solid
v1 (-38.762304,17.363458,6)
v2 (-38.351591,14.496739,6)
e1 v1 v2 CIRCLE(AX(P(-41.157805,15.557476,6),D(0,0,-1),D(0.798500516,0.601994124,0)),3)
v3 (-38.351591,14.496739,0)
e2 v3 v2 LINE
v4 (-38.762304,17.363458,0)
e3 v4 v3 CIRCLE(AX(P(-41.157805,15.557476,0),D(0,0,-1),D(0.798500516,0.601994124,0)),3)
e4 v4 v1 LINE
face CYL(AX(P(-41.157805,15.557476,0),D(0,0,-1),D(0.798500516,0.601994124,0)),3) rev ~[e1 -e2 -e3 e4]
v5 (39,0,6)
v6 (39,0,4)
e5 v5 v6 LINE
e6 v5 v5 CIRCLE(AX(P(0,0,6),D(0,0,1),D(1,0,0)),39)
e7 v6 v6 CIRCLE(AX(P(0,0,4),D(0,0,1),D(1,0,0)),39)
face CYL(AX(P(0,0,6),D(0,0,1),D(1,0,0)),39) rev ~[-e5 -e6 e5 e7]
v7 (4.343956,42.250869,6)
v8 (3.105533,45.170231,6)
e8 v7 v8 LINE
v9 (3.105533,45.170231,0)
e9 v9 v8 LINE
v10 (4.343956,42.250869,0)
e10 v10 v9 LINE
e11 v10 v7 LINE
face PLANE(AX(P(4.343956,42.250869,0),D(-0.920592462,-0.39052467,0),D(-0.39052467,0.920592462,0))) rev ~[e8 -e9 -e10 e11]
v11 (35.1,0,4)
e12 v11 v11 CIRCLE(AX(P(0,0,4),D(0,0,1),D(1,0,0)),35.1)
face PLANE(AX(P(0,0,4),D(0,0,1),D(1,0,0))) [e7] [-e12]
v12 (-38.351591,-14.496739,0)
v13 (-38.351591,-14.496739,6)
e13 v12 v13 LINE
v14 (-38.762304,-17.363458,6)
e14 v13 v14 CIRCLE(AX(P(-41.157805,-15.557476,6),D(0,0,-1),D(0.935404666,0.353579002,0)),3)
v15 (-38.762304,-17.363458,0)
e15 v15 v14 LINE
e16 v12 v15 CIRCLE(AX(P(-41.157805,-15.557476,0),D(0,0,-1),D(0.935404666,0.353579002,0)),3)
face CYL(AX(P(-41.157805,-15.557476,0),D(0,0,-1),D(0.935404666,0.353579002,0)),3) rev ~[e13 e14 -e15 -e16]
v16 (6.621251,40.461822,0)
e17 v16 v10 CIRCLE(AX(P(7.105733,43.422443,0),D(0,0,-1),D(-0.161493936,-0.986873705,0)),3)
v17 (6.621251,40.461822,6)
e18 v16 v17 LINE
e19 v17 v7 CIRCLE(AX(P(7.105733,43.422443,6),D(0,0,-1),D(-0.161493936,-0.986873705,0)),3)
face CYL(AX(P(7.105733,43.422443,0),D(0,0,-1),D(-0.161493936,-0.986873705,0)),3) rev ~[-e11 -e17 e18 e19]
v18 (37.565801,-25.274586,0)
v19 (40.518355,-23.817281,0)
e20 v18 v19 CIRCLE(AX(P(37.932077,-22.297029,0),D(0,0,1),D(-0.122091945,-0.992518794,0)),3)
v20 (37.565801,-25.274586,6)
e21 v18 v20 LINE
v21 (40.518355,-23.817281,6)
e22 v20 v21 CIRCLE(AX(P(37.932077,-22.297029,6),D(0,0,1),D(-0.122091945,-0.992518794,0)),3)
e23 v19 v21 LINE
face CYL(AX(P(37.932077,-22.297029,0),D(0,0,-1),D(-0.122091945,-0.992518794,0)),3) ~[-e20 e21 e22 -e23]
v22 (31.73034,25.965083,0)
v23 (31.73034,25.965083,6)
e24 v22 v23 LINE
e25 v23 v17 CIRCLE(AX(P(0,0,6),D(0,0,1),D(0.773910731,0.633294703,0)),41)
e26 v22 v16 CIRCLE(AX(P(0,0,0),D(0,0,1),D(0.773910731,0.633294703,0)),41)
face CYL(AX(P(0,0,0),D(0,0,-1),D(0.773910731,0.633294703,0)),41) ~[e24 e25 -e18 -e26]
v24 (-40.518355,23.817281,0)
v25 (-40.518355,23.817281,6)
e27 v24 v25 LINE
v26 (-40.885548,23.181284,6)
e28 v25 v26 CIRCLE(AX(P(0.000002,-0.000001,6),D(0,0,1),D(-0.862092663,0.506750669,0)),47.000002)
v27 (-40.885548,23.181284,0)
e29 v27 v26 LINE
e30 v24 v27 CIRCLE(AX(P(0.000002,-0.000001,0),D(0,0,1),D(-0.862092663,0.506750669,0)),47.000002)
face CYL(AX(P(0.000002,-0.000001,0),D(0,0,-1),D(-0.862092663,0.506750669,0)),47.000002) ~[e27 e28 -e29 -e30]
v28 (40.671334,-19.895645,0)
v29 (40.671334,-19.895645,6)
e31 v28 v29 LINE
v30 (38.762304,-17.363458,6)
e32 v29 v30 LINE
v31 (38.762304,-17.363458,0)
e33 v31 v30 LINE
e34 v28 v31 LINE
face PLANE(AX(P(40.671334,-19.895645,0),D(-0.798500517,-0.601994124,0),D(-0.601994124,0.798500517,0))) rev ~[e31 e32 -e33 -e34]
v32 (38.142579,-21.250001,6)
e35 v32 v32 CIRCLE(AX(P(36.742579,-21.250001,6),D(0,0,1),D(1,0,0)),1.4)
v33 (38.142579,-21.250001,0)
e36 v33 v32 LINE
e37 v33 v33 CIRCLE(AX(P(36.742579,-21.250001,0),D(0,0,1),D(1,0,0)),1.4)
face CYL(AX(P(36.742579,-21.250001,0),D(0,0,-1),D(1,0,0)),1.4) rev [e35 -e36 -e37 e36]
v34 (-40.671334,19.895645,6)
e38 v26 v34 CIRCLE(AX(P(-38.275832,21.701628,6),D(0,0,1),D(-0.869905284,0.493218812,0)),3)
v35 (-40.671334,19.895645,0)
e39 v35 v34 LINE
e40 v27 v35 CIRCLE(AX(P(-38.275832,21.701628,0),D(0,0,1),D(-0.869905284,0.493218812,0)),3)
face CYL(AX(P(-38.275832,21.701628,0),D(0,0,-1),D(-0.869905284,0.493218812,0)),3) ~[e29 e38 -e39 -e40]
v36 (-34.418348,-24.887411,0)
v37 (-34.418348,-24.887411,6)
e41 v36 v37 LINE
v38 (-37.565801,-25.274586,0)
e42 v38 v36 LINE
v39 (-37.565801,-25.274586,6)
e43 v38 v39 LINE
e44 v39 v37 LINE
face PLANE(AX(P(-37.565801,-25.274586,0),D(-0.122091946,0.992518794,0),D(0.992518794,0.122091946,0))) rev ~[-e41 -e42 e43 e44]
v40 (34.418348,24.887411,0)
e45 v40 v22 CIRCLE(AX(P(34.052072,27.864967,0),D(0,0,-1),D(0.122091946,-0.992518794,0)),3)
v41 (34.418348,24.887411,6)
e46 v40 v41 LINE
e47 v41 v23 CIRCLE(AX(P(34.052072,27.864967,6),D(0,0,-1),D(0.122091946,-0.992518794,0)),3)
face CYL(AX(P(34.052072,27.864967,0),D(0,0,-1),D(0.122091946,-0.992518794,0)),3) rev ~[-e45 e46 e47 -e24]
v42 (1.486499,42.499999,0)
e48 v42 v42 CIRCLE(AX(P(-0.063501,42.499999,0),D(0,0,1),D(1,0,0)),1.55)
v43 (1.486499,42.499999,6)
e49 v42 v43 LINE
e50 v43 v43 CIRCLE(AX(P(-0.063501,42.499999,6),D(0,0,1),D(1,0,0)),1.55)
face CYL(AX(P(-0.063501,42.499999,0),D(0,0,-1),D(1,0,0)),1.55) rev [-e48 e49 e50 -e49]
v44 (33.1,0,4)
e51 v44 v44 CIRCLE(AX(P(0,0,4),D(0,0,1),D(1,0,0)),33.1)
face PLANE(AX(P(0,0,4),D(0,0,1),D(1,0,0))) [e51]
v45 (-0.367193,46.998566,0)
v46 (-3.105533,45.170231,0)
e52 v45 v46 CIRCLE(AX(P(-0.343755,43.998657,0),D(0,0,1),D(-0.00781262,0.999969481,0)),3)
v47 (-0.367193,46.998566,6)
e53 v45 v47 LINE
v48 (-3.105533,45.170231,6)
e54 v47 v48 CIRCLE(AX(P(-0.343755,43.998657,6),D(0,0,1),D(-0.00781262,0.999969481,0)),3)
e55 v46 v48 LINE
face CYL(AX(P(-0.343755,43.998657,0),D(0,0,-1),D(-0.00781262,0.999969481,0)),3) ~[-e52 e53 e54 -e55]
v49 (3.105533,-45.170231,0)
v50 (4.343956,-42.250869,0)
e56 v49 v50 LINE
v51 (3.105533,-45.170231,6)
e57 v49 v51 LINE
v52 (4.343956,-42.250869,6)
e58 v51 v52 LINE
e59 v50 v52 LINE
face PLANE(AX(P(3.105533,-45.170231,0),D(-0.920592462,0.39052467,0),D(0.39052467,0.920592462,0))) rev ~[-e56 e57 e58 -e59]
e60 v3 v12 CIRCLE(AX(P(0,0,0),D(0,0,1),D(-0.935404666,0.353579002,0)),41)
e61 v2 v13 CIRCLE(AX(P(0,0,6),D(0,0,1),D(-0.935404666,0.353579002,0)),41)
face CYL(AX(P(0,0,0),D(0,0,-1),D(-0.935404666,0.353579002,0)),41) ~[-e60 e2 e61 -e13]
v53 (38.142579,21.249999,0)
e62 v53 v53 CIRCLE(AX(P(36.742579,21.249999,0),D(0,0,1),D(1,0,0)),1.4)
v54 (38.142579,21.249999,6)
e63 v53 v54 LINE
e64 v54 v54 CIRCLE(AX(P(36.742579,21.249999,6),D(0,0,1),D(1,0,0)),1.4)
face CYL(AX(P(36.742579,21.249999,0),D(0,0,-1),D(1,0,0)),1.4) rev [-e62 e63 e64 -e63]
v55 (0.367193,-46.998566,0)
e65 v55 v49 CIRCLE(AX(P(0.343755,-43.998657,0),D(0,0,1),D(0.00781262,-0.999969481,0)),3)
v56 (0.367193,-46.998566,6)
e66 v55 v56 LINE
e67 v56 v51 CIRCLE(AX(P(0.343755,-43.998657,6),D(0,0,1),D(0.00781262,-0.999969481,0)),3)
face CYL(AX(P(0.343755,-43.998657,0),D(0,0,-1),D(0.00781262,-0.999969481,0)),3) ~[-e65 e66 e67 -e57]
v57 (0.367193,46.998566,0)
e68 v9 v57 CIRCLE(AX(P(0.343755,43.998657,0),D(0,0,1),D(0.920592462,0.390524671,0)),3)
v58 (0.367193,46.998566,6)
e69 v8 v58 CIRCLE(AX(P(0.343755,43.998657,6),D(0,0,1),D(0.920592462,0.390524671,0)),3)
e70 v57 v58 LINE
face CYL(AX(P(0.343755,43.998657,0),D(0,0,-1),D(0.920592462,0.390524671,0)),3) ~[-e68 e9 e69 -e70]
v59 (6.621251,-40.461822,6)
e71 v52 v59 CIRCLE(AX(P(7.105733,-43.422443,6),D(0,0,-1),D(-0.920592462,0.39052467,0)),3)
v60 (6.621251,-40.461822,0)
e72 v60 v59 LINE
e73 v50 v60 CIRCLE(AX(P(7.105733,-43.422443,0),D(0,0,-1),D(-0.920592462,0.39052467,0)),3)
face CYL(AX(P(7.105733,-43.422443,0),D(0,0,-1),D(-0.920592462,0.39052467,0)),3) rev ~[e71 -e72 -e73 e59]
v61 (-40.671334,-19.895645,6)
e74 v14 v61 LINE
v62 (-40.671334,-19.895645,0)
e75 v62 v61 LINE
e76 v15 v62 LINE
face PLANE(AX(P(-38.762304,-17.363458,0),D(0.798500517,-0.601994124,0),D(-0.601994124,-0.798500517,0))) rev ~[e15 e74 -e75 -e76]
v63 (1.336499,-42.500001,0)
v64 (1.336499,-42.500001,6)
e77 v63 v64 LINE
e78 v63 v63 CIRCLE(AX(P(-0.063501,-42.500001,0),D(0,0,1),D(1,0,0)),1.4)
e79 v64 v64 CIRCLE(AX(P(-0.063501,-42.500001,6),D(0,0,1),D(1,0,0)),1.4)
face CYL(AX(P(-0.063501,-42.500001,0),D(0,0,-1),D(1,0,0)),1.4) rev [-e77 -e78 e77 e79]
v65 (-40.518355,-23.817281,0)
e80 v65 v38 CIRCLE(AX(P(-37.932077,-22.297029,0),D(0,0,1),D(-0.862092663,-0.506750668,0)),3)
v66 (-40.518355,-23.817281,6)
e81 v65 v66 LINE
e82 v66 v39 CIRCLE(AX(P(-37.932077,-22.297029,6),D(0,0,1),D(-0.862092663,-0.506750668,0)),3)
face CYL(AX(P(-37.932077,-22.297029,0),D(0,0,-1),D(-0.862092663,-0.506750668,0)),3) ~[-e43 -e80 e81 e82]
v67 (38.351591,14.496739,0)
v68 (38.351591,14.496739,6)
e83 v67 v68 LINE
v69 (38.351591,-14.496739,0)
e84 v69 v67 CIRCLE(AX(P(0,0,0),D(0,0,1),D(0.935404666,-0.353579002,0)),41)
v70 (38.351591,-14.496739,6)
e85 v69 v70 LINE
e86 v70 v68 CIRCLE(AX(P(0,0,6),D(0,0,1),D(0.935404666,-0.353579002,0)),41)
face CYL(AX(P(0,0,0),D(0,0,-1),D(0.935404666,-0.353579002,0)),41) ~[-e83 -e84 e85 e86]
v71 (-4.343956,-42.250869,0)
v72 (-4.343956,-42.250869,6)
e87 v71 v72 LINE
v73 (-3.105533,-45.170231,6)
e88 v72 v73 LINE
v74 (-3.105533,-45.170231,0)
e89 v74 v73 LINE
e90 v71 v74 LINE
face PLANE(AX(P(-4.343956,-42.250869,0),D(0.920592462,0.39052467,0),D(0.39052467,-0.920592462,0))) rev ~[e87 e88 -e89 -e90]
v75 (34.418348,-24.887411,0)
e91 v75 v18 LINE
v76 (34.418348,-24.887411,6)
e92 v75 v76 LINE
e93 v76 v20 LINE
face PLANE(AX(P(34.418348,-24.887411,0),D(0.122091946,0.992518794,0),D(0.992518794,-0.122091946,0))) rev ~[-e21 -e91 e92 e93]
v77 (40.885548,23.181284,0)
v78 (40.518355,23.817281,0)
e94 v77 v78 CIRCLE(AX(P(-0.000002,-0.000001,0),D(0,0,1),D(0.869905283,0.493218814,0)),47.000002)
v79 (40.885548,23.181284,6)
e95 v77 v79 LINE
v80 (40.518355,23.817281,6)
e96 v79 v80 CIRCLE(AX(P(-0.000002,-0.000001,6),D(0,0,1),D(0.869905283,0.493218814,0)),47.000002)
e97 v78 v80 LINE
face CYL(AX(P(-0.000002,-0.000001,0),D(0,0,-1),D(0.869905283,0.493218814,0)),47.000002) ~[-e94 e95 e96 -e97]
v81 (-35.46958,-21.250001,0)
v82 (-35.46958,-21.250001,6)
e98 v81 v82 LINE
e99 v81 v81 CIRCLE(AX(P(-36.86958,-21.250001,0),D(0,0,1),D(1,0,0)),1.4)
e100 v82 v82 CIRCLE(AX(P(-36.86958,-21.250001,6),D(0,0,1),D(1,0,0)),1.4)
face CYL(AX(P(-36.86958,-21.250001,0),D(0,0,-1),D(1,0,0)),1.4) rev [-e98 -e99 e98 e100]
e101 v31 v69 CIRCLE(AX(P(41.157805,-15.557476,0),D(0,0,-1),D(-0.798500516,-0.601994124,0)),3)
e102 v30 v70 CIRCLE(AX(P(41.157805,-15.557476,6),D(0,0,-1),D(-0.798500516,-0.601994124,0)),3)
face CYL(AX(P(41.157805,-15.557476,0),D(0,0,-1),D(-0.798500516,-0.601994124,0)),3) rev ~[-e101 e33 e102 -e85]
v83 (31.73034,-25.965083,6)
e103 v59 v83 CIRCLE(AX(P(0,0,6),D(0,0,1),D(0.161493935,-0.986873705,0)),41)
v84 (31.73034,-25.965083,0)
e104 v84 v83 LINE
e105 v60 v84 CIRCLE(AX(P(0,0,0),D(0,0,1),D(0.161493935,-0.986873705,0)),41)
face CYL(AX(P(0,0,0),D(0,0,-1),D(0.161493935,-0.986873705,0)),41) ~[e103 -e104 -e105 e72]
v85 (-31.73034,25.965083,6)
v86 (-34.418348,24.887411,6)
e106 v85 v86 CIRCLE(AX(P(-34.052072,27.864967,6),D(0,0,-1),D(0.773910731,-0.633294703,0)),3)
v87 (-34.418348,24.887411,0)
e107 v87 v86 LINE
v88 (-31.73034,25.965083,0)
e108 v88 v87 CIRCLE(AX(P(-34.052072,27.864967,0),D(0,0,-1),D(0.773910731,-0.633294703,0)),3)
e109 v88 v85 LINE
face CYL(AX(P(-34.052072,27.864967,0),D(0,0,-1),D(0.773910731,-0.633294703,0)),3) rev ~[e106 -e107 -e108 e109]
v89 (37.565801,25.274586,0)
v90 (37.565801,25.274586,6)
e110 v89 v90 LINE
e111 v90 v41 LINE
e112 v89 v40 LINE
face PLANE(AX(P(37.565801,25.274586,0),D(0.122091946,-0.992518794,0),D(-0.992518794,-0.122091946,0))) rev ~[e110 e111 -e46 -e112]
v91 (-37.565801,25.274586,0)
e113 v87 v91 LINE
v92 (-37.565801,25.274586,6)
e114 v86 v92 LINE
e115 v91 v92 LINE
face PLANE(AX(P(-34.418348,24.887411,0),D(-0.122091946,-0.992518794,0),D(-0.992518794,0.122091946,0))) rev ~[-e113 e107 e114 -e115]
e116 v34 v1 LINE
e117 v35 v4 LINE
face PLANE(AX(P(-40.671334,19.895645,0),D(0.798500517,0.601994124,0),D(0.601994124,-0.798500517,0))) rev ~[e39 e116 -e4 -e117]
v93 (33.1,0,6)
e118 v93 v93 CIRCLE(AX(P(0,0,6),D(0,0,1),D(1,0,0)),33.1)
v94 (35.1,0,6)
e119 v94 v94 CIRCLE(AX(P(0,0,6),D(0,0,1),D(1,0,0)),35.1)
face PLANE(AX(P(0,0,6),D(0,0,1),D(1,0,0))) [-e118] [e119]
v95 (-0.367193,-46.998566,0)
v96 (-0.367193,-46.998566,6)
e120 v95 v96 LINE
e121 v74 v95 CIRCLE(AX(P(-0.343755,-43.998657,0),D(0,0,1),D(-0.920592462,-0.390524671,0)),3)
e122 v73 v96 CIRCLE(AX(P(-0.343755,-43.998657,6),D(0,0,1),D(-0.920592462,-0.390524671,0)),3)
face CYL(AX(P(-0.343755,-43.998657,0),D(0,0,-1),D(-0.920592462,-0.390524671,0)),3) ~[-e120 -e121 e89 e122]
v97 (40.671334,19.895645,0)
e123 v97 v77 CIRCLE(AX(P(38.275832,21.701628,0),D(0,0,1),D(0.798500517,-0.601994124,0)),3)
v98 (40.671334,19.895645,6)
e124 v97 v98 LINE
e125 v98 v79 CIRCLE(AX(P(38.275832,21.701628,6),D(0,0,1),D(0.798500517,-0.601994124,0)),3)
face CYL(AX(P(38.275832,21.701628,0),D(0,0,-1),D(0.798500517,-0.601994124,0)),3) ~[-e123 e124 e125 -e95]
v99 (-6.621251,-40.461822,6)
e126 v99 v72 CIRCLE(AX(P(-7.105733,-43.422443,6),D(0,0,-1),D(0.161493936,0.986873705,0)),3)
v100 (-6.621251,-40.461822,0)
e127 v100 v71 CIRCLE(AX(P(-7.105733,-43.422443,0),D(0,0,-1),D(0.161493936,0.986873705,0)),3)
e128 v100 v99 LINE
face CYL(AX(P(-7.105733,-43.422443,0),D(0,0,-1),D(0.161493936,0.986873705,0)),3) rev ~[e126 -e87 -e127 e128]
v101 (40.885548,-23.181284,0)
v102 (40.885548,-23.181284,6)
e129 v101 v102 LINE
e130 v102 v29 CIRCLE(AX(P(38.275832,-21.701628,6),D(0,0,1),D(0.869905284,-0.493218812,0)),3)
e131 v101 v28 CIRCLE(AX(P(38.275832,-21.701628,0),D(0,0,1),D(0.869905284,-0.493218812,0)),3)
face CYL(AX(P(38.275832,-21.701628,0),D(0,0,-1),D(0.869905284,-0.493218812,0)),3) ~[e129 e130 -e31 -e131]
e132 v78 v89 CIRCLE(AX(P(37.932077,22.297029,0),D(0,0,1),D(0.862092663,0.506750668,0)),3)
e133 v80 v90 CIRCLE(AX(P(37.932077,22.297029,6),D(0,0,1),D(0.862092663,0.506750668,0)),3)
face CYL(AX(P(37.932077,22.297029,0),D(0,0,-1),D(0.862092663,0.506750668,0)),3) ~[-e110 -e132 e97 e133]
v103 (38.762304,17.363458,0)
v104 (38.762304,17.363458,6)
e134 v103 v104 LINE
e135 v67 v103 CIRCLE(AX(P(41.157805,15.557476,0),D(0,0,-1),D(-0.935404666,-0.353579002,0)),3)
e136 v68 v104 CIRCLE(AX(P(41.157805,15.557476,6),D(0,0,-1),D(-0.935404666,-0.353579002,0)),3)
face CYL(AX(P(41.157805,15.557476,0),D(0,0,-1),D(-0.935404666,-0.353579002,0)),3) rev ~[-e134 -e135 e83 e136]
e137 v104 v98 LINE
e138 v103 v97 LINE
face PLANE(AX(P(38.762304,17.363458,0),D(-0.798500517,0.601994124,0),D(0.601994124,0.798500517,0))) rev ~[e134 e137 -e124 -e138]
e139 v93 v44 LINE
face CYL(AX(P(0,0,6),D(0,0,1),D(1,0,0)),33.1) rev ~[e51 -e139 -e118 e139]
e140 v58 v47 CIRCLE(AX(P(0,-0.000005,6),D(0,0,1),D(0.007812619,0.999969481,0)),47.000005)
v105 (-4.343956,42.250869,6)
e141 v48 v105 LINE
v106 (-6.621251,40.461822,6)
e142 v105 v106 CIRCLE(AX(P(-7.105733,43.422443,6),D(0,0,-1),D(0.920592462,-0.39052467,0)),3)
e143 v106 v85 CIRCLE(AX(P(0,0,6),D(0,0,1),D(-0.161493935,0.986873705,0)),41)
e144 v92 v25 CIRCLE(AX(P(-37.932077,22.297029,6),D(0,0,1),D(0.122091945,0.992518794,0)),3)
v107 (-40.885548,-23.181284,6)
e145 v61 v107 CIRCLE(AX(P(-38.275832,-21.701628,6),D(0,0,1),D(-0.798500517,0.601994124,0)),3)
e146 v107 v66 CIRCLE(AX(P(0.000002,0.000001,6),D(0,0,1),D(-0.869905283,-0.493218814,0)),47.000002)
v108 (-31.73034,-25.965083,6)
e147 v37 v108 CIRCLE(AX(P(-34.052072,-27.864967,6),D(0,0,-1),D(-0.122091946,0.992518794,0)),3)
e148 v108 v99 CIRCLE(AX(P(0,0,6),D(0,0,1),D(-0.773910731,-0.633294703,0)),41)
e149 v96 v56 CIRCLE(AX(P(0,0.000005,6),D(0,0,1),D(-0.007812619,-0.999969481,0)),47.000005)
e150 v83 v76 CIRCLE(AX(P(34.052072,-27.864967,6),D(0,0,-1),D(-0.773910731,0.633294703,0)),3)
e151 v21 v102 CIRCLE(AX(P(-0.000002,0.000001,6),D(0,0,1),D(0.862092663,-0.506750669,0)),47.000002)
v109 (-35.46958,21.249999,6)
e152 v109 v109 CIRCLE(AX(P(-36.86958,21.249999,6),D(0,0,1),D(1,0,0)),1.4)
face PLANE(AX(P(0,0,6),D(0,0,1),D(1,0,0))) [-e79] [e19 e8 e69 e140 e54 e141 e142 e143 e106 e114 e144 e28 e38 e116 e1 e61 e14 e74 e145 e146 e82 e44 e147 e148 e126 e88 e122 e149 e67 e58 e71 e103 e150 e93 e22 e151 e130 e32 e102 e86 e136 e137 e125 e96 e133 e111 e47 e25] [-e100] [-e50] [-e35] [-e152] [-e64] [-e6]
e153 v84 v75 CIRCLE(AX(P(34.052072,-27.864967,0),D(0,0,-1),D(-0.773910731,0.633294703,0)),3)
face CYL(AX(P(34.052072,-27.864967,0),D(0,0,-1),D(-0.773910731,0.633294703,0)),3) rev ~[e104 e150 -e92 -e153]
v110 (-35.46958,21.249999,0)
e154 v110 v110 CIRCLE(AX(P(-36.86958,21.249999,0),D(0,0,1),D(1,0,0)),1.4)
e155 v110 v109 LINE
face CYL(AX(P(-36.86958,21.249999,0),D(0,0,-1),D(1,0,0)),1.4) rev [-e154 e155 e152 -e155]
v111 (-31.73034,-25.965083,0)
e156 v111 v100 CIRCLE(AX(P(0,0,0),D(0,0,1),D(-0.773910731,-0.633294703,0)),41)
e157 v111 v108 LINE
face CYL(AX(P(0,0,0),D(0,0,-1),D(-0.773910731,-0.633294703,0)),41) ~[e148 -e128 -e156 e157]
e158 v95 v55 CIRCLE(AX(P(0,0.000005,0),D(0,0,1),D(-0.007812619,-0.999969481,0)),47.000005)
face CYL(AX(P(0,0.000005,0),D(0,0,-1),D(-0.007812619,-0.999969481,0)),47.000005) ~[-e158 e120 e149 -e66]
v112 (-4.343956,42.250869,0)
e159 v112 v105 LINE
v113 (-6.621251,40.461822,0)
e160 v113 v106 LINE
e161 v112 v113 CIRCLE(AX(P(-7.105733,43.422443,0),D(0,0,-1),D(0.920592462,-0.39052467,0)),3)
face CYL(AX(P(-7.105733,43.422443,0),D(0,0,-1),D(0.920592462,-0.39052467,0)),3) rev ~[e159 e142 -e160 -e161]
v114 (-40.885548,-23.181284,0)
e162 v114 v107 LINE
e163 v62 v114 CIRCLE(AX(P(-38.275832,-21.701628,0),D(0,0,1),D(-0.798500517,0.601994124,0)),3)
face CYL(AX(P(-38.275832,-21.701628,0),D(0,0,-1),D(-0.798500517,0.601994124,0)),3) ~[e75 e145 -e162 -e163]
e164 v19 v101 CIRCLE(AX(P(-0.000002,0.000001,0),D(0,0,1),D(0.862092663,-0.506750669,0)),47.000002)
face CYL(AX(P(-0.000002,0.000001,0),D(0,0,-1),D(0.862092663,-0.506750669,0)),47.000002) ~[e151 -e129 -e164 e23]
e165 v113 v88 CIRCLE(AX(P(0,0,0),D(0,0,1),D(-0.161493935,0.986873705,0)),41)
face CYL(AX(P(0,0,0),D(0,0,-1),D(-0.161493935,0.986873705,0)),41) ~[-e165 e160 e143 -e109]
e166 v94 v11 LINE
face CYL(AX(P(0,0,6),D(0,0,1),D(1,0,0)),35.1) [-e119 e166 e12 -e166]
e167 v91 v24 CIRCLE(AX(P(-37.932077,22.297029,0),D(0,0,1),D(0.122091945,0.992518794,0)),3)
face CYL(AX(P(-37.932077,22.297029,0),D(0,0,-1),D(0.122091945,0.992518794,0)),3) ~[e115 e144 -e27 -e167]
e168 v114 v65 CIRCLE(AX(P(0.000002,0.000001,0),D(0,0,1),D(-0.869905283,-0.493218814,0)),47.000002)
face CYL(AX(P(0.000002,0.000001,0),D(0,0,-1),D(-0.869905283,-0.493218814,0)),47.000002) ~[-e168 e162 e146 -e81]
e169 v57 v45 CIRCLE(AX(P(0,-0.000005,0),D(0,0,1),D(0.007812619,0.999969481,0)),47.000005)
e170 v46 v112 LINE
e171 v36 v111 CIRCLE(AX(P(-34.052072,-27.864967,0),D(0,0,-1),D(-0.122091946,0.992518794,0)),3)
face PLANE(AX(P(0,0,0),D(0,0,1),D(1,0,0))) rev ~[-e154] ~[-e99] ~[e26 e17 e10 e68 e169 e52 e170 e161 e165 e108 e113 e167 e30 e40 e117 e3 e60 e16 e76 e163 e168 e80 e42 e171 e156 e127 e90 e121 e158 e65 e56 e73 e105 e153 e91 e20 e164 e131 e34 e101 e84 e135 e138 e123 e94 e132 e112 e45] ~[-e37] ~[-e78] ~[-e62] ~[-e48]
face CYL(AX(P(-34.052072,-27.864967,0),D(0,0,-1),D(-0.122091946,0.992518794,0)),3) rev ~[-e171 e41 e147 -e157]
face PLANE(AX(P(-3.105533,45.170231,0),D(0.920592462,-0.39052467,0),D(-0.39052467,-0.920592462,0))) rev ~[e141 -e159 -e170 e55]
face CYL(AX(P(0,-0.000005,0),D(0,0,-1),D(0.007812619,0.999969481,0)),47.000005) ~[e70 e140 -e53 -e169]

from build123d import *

# Parameters (mm, degrees)
SKETCH1_R           = 1.55
SKETCH1_R_2         = 1.4
BOSS_EXTRUDE1_DEPTH = 6
SKETCH2_R           = 39
SKETCH2_R_2         = 35.1
SKETCH2_R_3         = 33.1
CUT_EXTRUDE1_DEPTH  = 2


with BuildPart() as part:
    # Sketch1 → Boss-Extrude1 (new body)
    with BuildSketch(Plane.XY):
        with BuildLine():
            Line((-3.10553267, 45.170231176), (-4.343955751, 42.250868995))
            ThreePointArc((-4.343955751, 42.250868995), (-5.25243282, 41.063358876), (-6.621251333, 40.461821891))
            ThreePointArc((-6.621251333, 40.461821891), (-20.5, 35.507041555), (-31.730339975, 25.965082805))
            ThreePointArc((-31.730339975, 25.965082805), (-32.935695541, 25.080419692), (-34.418348006, 24.887410531))
            Line((-34.418348006, 24.887410531), (-37.565801358, 25.274585773))
            ThreePointArc((-37.565801358, 25.274585773), (-39.259871006, 24.987189905), (-40.518355186, 23.817281394))
            ThreePointArc((-40.518355186, 23.817281394), (-40.703193978, 23.5), (-40.88554833, 23.181284214))
            ThreePointArc((-40.88554833, 23.181284214), (-41.26947673, 21.506450688), (-40.671334028, 19.895645403))
            Line((-40.671334028, 19.895645403), (-38.762303757, 17.363458464))
            ThreePointArc((-38.762303757, 17.363458464), (-38.188128361, 15.982939184), (-38.351591308, 14.496739086))
            ThreePointArc((-38.351591308, 14.496739086), (-41, 0), (-38.351591308, -14.496739086))
            ThreePointArc((-38.351591308, -14.496739086), (-38.188128361, -15.982939184), (-38.762303757, -17.363458464))
            Line((-38.762303757, -17.363458464), (-40.671334028, -19.895645403))
            ThreePointArc((-40.671334028, -19.895645403), (-41.26947673, -21.506450688), (-40.88554833, -23.181284214))
            ThreePointArc((-40.88554833, -23.181284214), (-40.703193978, -23.5), (-40.518355186, -23.817281394))
            ThreePointArc((-40.518355186, -23.817281394), (-39.259871006, -24.987189905), (-37.565801358, -25.274585773))
            Line((-37.565801358, -25.274585773), (-34.418348006, -24.887410531))
            ThreePointArc((-34.418348006, -24.887410531), (-32.935695541, -25.080419692), (-31.730339975, -25.965082805))
            ThreePointArc((-31.730339975, -25.965082805), (-20.5, -35.507041555), (-6.621251333, -40.461821891))
            ThreePointArc((-6.621251333, -40.461821891), (-5.25243282, -41.063358876), (-4.343955751, -42.250868995))
            Line((-4.343955751, -42.250868995), (-3.10553267, -45.170231176))
            ThreePointArc((-3.10553267, -45.170231176), (-2.009605724, -46.493640593), (-0.367193143, -46.998565608))
            ThreePointArc((-0.367193143, -46.998565608), (0, -47), (0.367193143, -46.998565608))
            ThreePointArc((0.367193143, -46.998565608), (2.009605724, -46.493640593), (3.10553267, -45.170231176))
            Line((3.10553267, -45.170231176), (4.343955751, -42.250868995))
            ThreePointArc((4.343955751, -42.250868995), (5.25243282, -41.063358876), (6.621251333, -40.461821891))
            ThreePointArc((6.621251333, -40.461821891), (20.5, -35.507041555), (31.730339975, -25.965082805))
            ThreePointArc((31.730339975, -25.965082805), (32.935695541, -25.080419692), (34.418348006, -24.887410531))
            Line((34.418348006, -24.887410531), (37.565801358, -25.274585773))
            ThreePointArc((37.565801358, -25.274585773), (39.259871006, -24.987189905), (40.518355186, -23.817281394))
            ThreePointArc((40.518355186, -23.817281394), (40.703193978, -23.5), (40.88554833, -23.181284214))
            ThreePointArc((40.88554833, -23.181284214), (41.26947673, -21.506450688), (40.671334028, -19.895645403))
            Line((40.671334028, -19.895645403), (38.762303757, -17.363458464))
            ThreePointArc((38.762303757, -17.363458464), (38.188128361, -15.982939184), (38.351591308, -14.496739086))
            ThreePointArc((38.351591308, -14.496739086), (41, 0), (38.351591308, 14.496739086))
            ThreePointArc((38.351591308, 14.496739086), (38.188128361, 15.982939184), (38.762303757, 17.363458464))
            Line((38.762303757, 17.363458464), (40.671334028, 19.895645403))
            ThreePointArc((40.671334028, 19.895645403), (41.26947673, 21.506450688), (40.88554833, 23.181284214))
            ThreePointArc((40.88554833, 23.181284214), (40.703193978, 23.5), (40.518355186, 23.817281394))
            ThreePointArc((40.518355186, 23.817281394), (39.259871006, 24.987189905), (37.565801358, 25.274585773))
            Line((37.565801358, 25.274585773), (34.418348006, 24.887410531))
            ThreePointArc((34.418348006, 24.887410531), (32.935695541, 25.080419692), (31.730339975, 25.965082805))
            ThreePointArc((31.730339975, 25.965082805), (20.5, 35.507041555), (6.621251333, 40.461821891))
            ThreePointArc((6.621251333, 40.461821891), (5.25243282, 41.063358876), (4.343955751, 42.250868995))
            Line((4.343955751, 42.250868995), (3.10553267, 45.170231176))
            ThreePointArc((3.10553267, 45.170231176), (2.009605724, 46.493640593), (0.367193143, 46.998565608))
            ThreePointArc((0.367193143, 46.998565608), (0, 47), (-0.367193143, 46.998565608))
            ThreePointArc((-0.367193143, 46.998565608), (-2.009605724, 46.493640593), (-3.10553267, 45.170231176))
        make_face()
        with Locations((-0.063500562, 42.49999948)):
            Circle(SKETCH1_R, mode=Mode.SUBTRACT)
        with Locations((36.742579098, 21.24999948)):
            Circle(SKETCH1_R_2, mode=Mode.SUBTRACT)
        with Locations((36.742579098, -21.25000052)):
            Circle(SKETCH1_R_2, mode=Mode.SUBTRACT)
        with Locations((-0.063500562, -42.50000052)):
            Circle(SKETCH1_R_2, mode=Mode.SUBTRACT)
        with Locations((-36.869580223, -21.25000052)):
            Circle(SKETCH1_R_2, mode=Mode.SUBTRACT)
        with Locations((-36.869580223, 21.24999948)):
            Circle(SKETCH1_R_2, mode=Mode.SUBTRACT)
    extrude(amount=BOSS_EXTRUDE1_DEPTH)

    # Sketch2 → Cut-Extrude1 (cut)
    # profile 1 of 2: a face of its own
    with BuildSketch(Plane.XY.offset(6)):
        Circle(SKETCH2_R)
        Circle(SKETCH2_R_2, mode=Mode.SUBTRACT)
    # profile 2 of 2: a face of its own
    with BuildSketch(Plane.XY.offset(6)):
        Circle(SKETCH2_R_3)
    extrude(amount=-CUT_EXTRUDE1_DEPTH, mode=Mode.SUBTRACT)


solid = part.part
